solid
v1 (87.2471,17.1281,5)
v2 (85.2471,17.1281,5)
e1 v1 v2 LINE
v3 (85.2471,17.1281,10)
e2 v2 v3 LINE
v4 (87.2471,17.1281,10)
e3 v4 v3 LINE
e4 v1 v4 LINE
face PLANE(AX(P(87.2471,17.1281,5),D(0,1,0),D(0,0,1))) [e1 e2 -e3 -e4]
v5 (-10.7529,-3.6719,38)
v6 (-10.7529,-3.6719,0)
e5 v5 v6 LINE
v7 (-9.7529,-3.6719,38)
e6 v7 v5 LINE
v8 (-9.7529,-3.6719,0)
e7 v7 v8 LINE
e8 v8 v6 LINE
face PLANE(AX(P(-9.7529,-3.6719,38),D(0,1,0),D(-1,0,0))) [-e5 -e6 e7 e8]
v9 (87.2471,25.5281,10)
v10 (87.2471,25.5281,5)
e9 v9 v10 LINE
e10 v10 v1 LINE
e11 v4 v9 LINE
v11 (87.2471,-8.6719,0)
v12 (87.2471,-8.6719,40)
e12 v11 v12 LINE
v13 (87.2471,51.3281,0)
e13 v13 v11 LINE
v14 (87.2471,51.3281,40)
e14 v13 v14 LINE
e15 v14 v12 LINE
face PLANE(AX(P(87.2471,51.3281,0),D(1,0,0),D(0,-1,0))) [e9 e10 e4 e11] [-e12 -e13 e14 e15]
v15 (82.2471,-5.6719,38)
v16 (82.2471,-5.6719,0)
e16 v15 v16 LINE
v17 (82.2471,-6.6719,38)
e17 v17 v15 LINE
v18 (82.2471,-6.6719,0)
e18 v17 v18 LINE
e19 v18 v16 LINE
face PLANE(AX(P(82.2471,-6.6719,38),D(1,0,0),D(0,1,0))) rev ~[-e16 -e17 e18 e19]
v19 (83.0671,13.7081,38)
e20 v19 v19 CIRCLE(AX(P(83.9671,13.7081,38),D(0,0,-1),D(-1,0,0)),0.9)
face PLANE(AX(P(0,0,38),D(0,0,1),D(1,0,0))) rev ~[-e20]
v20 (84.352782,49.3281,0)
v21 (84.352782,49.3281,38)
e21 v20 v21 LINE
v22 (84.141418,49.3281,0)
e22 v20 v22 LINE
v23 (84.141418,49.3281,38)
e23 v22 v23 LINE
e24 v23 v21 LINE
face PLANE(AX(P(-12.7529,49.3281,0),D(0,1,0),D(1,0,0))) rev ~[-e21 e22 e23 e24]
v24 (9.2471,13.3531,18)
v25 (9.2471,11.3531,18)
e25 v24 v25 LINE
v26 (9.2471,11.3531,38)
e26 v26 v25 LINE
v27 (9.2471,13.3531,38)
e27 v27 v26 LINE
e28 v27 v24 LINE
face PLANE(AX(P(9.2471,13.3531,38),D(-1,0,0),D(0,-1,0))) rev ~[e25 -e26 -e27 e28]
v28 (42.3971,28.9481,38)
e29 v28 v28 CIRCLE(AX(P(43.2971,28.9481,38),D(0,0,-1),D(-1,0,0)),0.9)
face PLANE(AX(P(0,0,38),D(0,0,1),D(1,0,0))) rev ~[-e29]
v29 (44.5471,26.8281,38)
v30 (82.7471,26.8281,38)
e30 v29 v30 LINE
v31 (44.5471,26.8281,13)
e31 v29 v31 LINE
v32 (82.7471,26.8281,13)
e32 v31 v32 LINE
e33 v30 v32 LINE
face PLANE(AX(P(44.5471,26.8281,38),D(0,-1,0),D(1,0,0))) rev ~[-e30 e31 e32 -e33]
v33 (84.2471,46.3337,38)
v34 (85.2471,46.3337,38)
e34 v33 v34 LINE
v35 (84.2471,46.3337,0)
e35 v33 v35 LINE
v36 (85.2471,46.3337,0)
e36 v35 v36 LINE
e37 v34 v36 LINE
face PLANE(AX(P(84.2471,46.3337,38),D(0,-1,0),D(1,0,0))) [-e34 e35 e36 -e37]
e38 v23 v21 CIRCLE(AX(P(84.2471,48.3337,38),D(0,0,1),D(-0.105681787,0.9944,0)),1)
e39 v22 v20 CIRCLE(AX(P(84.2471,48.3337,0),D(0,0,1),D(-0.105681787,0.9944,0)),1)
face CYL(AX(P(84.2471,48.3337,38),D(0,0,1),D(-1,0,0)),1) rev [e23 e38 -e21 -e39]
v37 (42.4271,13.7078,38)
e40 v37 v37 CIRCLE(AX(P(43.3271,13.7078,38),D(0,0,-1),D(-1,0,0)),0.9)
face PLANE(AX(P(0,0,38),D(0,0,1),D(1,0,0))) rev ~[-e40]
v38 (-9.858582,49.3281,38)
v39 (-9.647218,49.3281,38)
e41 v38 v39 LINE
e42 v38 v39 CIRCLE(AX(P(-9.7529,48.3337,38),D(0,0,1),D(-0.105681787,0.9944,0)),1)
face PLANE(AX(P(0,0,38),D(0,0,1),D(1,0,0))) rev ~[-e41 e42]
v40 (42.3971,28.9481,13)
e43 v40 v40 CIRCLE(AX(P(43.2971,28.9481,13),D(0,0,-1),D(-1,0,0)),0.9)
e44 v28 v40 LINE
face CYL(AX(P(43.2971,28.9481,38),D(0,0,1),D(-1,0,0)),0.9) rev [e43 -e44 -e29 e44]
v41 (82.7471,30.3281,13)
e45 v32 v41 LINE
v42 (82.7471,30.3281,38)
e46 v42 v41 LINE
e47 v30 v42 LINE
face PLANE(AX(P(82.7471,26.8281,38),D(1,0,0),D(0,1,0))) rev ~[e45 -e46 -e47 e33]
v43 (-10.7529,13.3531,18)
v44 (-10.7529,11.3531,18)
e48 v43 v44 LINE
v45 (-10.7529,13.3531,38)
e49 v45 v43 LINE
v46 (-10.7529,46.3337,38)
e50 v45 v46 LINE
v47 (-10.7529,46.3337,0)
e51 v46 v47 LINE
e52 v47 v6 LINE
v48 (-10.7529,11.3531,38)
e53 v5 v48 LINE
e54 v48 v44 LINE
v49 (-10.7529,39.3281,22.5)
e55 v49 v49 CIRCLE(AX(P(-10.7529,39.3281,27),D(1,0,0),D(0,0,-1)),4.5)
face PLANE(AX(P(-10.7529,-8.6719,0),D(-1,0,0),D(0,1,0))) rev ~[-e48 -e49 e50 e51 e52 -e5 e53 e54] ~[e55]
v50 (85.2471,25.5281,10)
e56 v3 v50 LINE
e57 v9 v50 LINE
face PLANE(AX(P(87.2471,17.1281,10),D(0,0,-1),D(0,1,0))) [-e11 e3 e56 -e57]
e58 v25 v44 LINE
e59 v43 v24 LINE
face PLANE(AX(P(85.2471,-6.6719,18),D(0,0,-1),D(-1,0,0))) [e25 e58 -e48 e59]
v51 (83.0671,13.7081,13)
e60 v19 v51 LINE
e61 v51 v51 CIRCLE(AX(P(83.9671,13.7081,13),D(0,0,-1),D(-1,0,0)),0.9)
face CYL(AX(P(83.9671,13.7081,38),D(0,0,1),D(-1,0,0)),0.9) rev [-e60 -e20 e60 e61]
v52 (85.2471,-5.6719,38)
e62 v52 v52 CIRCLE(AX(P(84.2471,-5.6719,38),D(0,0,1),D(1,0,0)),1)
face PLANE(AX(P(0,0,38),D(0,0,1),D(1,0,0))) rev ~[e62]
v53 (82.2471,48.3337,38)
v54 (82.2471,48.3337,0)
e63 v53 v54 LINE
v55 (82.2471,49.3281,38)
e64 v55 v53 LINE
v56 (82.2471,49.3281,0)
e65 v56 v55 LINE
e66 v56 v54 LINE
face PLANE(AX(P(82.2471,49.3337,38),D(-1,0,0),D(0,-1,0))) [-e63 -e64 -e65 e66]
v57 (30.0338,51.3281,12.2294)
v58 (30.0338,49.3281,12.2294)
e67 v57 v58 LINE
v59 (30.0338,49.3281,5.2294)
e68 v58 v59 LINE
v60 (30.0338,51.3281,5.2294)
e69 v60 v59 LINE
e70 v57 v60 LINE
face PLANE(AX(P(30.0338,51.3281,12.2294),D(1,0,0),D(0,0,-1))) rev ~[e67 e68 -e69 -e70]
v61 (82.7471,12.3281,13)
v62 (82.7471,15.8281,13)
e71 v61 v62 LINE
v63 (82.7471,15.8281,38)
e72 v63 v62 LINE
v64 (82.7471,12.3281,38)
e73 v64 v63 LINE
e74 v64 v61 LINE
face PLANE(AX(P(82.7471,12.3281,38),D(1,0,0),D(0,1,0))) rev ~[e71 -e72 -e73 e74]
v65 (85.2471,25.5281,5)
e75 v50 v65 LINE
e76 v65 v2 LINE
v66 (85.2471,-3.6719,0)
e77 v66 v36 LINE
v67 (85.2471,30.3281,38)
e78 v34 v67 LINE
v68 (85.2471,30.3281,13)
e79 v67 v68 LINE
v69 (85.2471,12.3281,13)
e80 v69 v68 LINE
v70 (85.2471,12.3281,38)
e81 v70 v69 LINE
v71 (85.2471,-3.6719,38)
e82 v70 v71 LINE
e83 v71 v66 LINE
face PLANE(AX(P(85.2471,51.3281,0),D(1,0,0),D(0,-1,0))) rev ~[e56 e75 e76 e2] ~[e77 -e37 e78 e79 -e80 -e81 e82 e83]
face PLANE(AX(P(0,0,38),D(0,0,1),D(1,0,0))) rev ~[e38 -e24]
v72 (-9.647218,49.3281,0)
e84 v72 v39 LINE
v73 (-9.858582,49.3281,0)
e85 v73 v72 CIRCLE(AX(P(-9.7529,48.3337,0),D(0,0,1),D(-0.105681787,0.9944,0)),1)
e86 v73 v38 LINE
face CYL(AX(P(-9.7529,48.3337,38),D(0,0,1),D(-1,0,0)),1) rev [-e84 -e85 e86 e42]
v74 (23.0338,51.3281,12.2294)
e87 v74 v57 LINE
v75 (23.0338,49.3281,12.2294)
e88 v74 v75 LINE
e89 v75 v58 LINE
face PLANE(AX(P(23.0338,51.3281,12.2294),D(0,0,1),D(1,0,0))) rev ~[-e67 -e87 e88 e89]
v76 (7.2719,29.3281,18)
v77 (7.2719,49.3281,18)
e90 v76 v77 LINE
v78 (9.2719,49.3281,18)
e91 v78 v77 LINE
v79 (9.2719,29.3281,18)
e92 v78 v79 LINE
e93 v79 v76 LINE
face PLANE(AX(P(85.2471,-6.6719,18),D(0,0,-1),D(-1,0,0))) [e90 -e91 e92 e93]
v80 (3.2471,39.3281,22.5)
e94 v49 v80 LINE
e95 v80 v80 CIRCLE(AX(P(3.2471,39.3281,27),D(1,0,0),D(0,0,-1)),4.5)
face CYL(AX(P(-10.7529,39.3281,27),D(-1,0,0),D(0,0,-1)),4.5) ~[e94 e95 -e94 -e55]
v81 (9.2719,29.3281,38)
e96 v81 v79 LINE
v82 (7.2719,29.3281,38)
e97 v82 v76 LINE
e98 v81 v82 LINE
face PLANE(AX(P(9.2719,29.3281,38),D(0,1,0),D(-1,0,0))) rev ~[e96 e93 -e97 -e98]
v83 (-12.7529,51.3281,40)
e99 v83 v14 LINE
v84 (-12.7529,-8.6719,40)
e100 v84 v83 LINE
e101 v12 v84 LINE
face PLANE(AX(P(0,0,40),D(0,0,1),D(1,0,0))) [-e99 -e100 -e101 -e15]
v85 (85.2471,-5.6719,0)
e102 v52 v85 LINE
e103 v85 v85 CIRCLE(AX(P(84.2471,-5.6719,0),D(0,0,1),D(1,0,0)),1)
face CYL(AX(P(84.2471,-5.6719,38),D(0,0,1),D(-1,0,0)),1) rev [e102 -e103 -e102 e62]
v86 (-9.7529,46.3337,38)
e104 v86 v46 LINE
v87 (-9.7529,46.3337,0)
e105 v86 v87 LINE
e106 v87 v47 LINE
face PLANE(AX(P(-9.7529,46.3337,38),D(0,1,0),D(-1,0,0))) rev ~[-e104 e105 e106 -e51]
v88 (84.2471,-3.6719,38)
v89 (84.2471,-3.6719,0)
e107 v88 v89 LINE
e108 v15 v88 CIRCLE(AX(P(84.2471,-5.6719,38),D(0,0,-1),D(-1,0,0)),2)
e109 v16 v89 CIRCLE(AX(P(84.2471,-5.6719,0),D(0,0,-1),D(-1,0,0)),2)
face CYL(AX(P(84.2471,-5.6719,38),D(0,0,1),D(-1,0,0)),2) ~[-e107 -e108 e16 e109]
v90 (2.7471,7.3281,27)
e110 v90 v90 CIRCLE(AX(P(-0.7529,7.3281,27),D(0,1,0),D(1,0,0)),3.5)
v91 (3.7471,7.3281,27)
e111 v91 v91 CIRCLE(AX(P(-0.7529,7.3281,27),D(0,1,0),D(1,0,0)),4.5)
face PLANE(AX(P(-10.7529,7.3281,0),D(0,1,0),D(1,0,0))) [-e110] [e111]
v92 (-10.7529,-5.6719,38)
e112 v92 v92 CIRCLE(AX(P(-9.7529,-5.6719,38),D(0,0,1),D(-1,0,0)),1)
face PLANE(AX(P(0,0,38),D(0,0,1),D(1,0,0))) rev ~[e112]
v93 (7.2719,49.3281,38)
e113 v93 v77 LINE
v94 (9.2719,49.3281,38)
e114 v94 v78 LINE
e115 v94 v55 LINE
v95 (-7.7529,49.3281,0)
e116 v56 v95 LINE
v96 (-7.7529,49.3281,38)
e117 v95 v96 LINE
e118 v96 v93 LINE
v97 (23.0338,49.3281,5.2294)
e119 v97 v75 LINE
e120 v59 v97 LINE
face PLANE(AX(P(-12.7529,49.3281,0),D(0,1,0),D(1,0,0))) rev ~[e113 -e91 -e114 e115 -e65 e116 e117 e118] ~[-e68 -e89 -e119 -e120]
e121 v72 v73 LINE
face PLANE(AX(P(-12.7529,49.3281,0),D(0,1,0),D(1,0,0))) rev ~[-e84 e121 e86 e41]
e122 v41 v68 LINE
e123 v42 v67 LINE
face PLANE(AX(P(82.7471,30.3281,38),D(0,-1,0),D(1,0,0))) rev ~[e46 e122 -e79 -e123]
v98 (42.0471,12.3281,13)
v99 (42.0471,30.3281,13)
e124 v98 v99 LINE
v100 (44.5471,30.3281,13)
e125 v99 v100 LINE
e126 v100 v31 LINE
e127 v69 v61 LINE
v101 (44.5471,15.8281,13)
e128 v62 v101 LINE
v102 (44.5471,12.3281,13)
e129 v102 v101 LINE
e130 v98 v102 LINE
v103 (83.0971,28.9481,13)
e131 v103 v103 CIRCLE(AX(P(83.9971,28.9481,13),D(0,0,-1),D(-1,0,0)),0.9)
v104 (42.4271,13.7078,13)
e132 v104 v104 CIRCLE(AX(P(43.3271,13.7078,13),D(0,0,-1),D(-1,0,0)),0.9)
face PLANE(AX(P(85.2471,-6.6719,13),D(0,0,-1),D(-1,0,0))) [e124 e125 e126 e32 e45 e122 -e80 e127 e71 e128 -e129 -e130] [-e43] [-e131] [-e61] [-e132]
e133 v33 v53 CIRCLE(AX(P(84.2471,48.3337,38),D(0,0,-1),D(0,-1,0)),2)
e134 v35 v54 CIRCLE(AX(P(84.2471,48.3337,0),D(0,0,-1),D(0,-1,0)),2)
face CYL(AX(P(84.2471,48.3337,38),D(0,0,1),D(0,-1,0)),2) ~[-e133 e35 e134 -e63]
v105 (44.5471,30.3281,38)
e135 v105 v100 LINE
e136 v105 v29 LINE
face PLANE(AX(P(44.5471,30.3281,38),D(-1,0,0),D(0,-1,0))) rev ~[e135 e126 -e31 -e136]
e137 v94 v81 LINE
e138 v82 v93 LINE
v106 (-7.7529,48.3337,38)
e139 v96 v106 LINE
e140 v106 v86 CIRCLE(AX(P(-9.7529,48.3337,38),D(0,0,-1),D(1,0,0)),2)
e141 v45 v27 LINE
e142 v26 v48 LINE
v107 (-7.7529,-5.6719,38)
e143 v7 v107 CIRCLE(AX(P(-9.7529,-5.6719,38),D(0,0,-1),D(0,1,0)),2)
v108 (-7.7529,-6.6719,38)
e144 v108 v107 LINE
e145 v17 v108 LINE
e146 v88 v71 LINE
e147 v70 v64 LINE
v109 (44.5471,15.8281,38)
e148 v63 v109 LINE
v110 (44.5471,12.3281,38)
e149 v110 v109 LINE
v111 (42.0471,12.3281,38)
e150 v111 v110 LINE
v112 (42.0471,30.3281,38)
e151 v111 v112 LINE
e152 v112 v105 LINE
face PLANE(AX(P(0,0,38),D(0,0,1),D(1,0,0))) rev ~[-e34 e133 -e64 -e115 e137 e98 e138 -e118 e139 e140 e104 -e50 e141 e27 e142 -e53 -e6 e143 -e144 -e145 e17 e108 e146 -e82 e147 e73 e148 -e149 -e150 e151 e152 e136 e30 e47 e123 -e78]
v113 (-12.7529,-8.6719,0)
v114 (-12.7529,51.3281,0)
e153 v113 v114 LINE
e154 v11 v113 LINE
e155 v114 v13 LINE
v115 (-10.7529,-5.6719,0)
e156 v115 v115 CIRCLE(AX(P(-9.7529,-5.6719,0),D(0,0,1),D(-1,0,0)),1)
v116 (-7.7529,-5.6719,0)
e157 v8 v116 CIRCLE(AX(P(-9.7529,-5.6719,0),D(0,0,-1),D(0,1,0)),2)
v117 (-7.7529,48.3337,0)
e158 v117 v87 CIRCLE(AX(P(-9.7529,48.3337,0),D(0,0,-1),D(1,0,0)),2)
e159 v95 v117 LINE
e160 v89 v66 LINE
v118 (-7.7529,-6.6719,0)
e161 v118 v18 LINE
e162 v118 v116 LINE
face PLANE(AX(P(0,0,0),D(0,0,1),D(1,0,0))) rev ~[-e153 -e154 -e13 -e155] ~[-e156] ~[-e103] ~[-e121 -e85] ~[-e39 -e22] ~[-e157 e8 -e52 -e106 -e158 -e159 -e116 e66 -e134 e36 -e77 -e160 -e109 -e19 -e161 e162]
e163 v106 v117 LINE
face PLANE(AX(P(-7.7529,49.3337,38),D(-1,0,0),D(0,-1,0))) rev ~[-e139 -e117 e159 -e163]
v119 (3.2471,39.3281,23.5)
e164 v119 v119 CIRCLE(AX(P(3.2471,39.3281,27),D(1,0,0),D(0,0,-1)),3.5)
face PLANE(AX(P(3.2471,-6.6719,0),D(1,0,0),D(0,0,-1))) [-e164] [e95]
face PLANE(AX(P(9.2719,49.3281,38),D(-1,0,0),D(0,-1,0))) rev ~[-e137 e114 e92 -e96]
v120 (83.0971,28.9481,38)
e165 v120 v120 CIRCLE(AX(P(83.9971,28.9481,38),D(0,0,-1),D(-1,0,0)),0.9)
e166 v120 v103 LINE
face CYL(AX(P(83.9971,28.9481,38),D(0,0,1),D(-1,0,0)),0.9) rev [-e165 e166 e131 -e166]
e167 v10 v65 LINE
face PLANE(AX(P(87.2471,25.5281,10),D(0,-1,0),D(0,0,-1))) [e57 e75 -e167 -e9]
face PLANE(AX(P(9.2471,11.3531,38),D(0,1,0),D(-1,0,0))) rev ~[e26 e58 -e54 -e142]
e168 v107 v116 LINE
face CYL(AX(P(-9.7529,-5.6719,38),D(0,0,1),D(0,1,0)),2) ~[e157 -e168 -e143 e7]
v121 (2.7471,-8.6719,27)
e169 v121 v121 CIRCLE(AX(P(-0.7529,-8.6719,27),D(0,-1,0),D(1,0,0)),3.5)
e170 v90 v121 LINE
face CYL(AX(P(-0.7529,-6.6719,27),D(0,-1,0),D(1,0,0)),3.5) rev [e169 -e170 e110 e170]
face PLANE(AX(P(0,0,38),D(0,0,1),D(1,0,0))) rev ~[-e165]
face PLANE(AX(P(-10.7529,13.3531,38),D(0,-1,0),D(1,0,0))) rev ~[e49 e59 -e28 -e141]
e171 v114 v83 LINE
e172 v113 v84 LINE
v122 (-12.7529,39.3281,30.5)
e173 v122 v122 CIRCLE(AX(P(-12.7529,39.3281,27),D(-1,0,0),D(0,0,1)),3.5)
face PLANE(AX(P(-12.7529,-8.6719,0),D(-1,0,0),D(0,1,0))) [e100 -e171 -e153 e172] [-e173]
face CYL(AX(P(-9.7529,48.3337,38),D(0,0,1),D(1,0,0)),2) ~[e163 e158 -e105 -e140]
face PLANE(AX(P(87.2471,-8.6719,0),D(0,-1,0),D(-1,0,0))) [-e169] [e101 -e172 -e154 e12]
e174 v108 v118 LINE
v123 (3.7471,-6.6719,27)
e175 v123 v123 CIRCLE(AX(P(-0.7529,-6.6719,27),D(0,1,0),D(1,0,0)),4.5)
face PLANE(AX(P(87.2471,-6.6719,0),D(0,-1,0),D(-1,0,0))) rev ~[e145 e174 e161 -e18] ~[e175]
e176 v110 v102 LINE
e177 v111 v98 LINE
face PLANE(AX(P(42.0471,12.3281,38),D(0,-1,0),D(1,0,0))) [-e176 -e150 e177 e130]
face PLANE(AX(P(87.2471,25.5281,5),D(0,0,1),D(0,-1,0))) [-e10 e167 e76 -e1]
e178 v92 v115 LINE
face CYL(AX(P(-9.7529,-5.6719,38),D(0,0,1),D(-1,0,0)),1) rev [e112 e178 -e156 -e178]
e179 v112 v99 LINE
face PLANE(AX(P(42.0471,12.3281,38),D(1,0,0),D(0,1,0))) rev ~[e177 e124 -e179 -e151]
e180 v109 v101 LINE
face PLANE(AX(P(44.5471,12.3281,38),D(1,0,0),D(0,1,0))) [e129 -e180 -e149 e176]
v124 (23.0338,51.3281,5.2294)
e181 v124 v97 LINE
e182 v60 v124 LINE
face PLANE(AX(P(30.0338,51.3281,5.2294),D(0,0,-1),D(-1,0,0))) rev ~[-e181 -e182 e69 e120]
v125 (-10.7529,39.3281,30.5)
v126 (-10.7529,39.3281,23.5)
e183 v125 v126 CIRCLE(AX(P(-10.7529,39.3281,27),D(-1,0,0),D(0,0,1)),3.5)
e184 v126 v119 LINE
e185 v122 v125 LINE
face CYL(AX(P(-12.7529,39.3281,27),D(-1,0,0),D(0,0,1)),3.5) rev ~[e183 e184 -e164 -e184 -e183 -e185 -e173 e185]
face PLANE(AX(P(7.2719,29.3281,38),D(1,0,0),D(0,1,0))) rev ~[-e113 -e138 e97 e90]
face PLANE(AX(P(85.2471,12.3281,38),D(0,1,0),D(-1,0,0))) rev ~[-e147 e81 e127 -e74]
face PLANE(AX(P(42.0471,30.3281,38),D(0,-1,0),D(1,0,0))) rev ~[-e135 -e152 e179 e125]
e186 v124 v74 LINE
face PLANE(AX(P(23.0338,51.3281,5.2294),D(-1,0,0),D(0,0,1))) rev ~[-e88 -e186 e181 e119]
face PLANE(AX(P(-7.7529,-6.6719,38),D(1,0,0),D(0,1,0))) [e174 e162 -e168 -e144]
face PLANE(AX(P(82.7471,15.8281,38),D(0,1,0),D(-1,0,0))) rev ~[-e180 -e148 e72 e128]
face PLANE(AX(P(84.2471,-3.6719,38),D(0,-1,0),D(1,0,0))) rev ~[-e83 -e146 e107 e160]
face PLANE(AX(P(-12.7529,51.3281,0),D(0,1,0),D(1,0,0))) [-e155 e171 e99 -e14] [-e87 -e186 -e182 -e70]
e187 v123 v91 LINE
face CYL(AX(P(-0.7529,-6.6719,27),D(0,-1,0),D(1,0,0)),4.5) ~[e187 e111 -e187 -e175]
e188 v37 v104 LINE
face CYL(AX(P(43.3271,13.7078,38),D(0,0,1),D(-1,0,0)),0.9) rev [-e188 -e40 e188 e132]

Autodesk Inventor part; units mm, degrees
ref_plane "YZ Plane" through (0, 0, 0) normal (1, 0, 0) x (0, 1, 0)
ref_plane "XZ Plane" through (0, 0, 0) normal (0, 1, 0) x (-1, 0, 0)
ref_plane "XY Plane" through (0, 0, 0) normal (0, 0, 1) x (1, 0, 0)
sketch "Sketch1" plane through (0, 0, 0) normal (0, 0, 1) x (1, 0, 0)
  line L0 (-12.7529, 51.3281) -> (87.2471, 51.3281)
  line L1 (87.2471, 51.3281) -> (87.2471, -8.6719)
  line L2 (87.2471, -8.6719) -> (-12.7529, -8.6719)
  line L3 (-12.7529, -8.6719) -> (-12.7529, 51.3281)
  point P0 (0, 0)
  dimension "d0" = 100
  dimension "d1" = 60
extrude "Extrusion1" add sketch "Sketch1" along normal blind 40
shell "Shell1" thickness 2 removed faces 1 at (20.5805, 31.3281, 0)
sketch "Sketch2" plane through (85.2471, -6.6719, 38) normal (0, 0, -1) x (-1, 0, 0)
  line L0 (0, 0) -> (0, 56) projected
  line L1 (43.2, 19) -> (43.2, 37)
  line L2 (0, 37) -> (0, 19)
  line L3 (43.2, 19) -> (40.7, 19)
  line L4 (40.7, 19) -> (40.7, 22.5)
  line L5 (0, 16.6053) -> (0, 19)
  line L6 (0, 19) -> (2.5, 19)
  line L7 (2.5, 19) -> (2.5, 22.5)
  line L8 (2.5, 22.5) -> (40.7, 22.5)
  line L9 (0, 19) -> (2.5, 19)
  line L10 (40.7, 19) -> (43.2, 19)
  line L11 (43.2, 37) -> (40.7, 37)
  line L12 (40.7, 37) -> (40.7, 33.5)
  line L13 (40.7, 33.5) -> (2.5, 33.5)
  line L14 (2.5, 33.5) -> (2.5, 37)
  line L15 (43.2, 37) -> (40.7, 37)
  line L16 (2.5, 37) -> (0, 37)
  line L17 (96, 0) -> (0, 0) projected
  circle A0 centre (41.92, 20.3797) radius 0.9
  circle A1 centre (41.95, 35.62) radius 0.9
  circle A2 centre (1.28, 20.38) radius 0.9
  circle A3 centre (1.25, 35.62) radius 0.9
  line L18 (0, 56) -> (96, 56) projected
  point P0 (85.2471, 6.6719)
  point P1 (1.25, 19)
  point P2 (41.95, 19)
  point P3 (0, 37)
  point P4 (1.25, 37)
  point P5 (1.25, 19)
  dimension "d5" = 43.2
  dimension "d6" = 18
  dimension "d7" = 2.5
  dimension "d8" = 3.5
  dimension "d9" = 2.5
  dimension "d10" = 3.5
  dimension "d12" = 3.5
  dimension "d13" = 1.8
  dimension "d14" = 1.38
  dimension "d15" = 1.28
  dimension "d16" = 1.8
  dimension "d17" = 1.8
  dimension "d18" = 1.8
  dimension "d19" = 1.38
  dimension "d20" = 1.28
  dimension "d29" = 1.38
  dimension "d30" = 1.25
  dimension "d31" = 3.5
  dimension "d32" = 19
  dimension "d33" = 1.38
extrude "Extrusion2" add sketch "Sketch2" along normal blind 25
sketch "Sketch5" plane through (85.2471, -6.6719, 38) normal (0, 0, -1) x (-1, 0, 0)
  line L0 (0, 56) -> (96, 56) projected
  line L1 (77.9752, 56) -> (75.9752, 56)
  line L2 (75.9752, 56) -> (75.9752, 36)
  line L3 (75.9752, 36) -> (77.9752, 36)
  line L4 (77.9752, 36) -> (77.9752, 56)
  point P0 (85.2471, 6.6719)
  point P1 (75.9752, 56)
  dimension "d40" = 20
  dimension "d41" = 2
extrude "Extrusion5" add sketch "Sketch5" along normal blind 20
sketch "Sketch6" plane through (-12.7529, -8.6719, 0) normal (-1, 0, 0) x (0, 0, 1)
  circle A0 centre (27, 48) radius 3.5
  line L0 (18, 58) -> (18, 31.1645)
  line L1 (13, 23.2797) -> (38, 23.2797) projected
  line L2 (0, 58) -> (38, 58) projected
  point P0 (0, 8.6719)
  point P1 (18, 44.5822)
  dimension "d44" = 7
  dimension "d45" = 9
  dimension "d46" = 10
extrude "Extrusion6" cut sketch "Sketch6" against normal blind 4
sketch "Sketch7" plane through (-10.7529, -6.6719, 0) normal (1, 0, 0) x (0, 0, -1)
  circle A0 centre (-27, 46) radius 4.5
  line L0 (-40, -2) -> (-40, 58) projected
  circle A1 centre (-27, 46) radius 3.5
  line L1 (0, 56) -> (-38, 56) projected
  point P0 (0, 6.6719)
  dimension "d49" = 9
  dimension "d50" = 13
  dimension "d51" = 7
  dimension "d52" = 10
extrude "Extrusion7" add sketch "Sketch7" along normal blind 14
sketch "Sketch8" plane through (85.2471, -6.6719, 38) normal (0, 0, -1) x (-1, 0, 0)
  line L0 (96, 56) -> (96, 0) projected
  line L1 (96, 20.025) -> (76, 20.025)
  line L2 (76, 20.025) -> (76, 18.025)
  line L3 (76, 18.025) -> (96, 18.025)
  line L4 (96, 18.025) -> (96, 20.025)
  line L5 (96, 0) -> (0, 0) projected
  point P0 (85.2471, 6.6719)
  dimension "d55" = 20
  dimension "d56" = 2
  dimension "d57" = 18.025
extrude "Extrusion8" add sketch "Sketch8" along normal blind 20
sketch "Sketch9" plane through (-12.7529, -8.6719, 0) normal (0, -1, 0) x (1, 0, 0)
  circle A0 centre (12, 27) radius 3.5
  line L0 (0, 40) -> (100, 40) projected
  line L1 (2, 0) -> (2, 38) projected
  point P0 (12.7529, 0)
  dimension "d60" = 7
  dimension "d61" = 13
  dimension "d62" = 10
extrude "Extrusion9" cut sketch "Sketch9" against normal blind 4
sketch "Sketch10" plane through (-10.7529, -6.6719, 0) normal (0, 1, 0) x (1, 0, 0)
  circle A0 centre (10, -27) radius 3.5
  line L0 (98, -40) -> (-2, -40) projected
  line L1 (-2, 0) -> (-2, -40) projected
  circle A1 centre (10, -27) radius 4.5
  point P0 (10.7529, 0)
  dimension "d65" = 7
  dimension "d66" = 13
  dimension "d67" = 12
  dimension "d68" = 9
extrude "Extrusion10" add sketch "Sketch10" along normal blind 14
sketch "Sketch11" plane through (87.2471, -8.6719, 0) normal (1, 0, 0) x (0, 0, -1)
  line L0 (-5, 25.8) -> (-10, 25.8)
  line L1 (-10, 25.8) -> (-10, 34.2)
  line L2 (-10, 34.2) -> (-5, 34.2)
  line L3 (-5, 34.2) -> (-5, 25.8)
  line L4 (-40, 0) -> (-40, 60) projected
  line L5 (0, 0) -> (-40, 0) projected
  point P0 (0, 8.6719)
  dimension "d71" = 5
  dimension "d72" = 8.4
  dimension "d73" = 30
  dimension "d74" = 25.8
extrude "Extrusion11" cut sketch "Sketch11" against normal blind 2
sketch "Sketch12" plane through (85.2471, -6.6719, 38) normal (0, 0, -1) x (-1, 0, 0)
  line L0 (96, 0) -> (0, 0) projected
  line L1 (96, 0) -> (93, 0)
  line L2 (93, 0) -> (93, 1)
  line L3 (95, 3) -> (96, 3)
  line L4 (96, 3) -> (96, 0)
  line L5 (96, 56.0056) -> (93, 56.0056)
  line L6 (93, 56.0056) -> (93, 55.0056)
  line L7 (95, 53.0056) -> (96, 53.0056)
  line L8 (96, 53.0056) -> (96, 56.0056)
  line L9 (0, 56.0056) -> (3, 56.0056)
  line L10 (3, 56.0056) -> (3, 55.0056)
  line L11 (1, 53.0056) -> (0, 53.0056)
  line L12 (0, 53.0056) -> (0, 56.0056)
  line L13 (0, 0) -> (3, 0)
  line L14 (3, 0) -> (3, 1)
  line L15 (1, 3) -> (0, 3)
  line L16 (0, 3) -> (0, 0)
  circle A0 centre (95, 55.0056) radius 1
  arc A1 (93, 55.0056) -> (95, 53.0056) centre (95, 55.0056) ccw
  arc A2 (95, 3) -> (93, 1) centre (95, 1) ccw
  arc A3 (1, 53.0056) -> (3, 55.0056) centre (1, 55.0056) ccw
  arc A4 (3, 1) -> (1, 3) centre (1, 1) ccw
  circle A5 centre (95, 1) radius 1
  circle A6 centre (1, 1) radius 1
  circle A7 centre (1, 55.0056) radius 1
  point P0 (85.2471, 6.6719)
  point P1 (93, 3)
  point P2 (93, 53.0056)
  point P3 (3, 53.0056)
  point P4 (3, 3)
  point P5 (0, 1)
  point P6 (1, 0)
  point P7 (3, 0)
  point P8 (1, 56.0056)
  point P9 (0, 55.0056)
  point P10 (95, 56.0056)
  point P11 (96, 55.0056)
  point P12 (96, 1)
  point P13 (95, 0)
  dimension "d77" = 3
  dimension "d78" = 3
  dimension "d79" = 3
  dimension "d80" = 3
  dimension "d81" = 3
  dimension "d82" = 3
  dimension "d83" = 3
  dimension "d84" = 2
  dimension "d85" = 0
  dimension "d86" = 1
  dimension "d87" = 2
  dimension "d88" = 2
  dimension "d89" = 2
  dimension "d90" = 2
extrude "Extrusion12" add sketch "Sketch12" along normal blind 38 contours L0 A6 L16 L15 A4 L14 | L2 A2 L3 L4 A5 L0 | A5 L4 L0 | L0 L16 A6 | L8 A0 L5 | A0 L8 L7 A1 L6 L5 | L9 A7 L12 | L9 L10 A3 L11 L12 A7
sketch "Sketch13" plane through (-12.7529, 51.3281, 0) normal (0, 1, 0) x (1, 0, 0)
  line L0 (35.7867, -12.2294) -> (42.7867, -12.2294)
  line L1 (42.7867, -12.2294) -> (42.7867, -5.2294)
  line L2 (42.7867, -5.2294) -> (35.7867, -5.2294)
  line L3 (35.7867, -5.2294) -> (35.7867, -12.2294)
  point P0 (12.7529, 0)
  dimension "d93" = 7
  dimension "d94" = 7
extrude "Extrusion13" cut sketch "Sketch13" against normal blind 10
